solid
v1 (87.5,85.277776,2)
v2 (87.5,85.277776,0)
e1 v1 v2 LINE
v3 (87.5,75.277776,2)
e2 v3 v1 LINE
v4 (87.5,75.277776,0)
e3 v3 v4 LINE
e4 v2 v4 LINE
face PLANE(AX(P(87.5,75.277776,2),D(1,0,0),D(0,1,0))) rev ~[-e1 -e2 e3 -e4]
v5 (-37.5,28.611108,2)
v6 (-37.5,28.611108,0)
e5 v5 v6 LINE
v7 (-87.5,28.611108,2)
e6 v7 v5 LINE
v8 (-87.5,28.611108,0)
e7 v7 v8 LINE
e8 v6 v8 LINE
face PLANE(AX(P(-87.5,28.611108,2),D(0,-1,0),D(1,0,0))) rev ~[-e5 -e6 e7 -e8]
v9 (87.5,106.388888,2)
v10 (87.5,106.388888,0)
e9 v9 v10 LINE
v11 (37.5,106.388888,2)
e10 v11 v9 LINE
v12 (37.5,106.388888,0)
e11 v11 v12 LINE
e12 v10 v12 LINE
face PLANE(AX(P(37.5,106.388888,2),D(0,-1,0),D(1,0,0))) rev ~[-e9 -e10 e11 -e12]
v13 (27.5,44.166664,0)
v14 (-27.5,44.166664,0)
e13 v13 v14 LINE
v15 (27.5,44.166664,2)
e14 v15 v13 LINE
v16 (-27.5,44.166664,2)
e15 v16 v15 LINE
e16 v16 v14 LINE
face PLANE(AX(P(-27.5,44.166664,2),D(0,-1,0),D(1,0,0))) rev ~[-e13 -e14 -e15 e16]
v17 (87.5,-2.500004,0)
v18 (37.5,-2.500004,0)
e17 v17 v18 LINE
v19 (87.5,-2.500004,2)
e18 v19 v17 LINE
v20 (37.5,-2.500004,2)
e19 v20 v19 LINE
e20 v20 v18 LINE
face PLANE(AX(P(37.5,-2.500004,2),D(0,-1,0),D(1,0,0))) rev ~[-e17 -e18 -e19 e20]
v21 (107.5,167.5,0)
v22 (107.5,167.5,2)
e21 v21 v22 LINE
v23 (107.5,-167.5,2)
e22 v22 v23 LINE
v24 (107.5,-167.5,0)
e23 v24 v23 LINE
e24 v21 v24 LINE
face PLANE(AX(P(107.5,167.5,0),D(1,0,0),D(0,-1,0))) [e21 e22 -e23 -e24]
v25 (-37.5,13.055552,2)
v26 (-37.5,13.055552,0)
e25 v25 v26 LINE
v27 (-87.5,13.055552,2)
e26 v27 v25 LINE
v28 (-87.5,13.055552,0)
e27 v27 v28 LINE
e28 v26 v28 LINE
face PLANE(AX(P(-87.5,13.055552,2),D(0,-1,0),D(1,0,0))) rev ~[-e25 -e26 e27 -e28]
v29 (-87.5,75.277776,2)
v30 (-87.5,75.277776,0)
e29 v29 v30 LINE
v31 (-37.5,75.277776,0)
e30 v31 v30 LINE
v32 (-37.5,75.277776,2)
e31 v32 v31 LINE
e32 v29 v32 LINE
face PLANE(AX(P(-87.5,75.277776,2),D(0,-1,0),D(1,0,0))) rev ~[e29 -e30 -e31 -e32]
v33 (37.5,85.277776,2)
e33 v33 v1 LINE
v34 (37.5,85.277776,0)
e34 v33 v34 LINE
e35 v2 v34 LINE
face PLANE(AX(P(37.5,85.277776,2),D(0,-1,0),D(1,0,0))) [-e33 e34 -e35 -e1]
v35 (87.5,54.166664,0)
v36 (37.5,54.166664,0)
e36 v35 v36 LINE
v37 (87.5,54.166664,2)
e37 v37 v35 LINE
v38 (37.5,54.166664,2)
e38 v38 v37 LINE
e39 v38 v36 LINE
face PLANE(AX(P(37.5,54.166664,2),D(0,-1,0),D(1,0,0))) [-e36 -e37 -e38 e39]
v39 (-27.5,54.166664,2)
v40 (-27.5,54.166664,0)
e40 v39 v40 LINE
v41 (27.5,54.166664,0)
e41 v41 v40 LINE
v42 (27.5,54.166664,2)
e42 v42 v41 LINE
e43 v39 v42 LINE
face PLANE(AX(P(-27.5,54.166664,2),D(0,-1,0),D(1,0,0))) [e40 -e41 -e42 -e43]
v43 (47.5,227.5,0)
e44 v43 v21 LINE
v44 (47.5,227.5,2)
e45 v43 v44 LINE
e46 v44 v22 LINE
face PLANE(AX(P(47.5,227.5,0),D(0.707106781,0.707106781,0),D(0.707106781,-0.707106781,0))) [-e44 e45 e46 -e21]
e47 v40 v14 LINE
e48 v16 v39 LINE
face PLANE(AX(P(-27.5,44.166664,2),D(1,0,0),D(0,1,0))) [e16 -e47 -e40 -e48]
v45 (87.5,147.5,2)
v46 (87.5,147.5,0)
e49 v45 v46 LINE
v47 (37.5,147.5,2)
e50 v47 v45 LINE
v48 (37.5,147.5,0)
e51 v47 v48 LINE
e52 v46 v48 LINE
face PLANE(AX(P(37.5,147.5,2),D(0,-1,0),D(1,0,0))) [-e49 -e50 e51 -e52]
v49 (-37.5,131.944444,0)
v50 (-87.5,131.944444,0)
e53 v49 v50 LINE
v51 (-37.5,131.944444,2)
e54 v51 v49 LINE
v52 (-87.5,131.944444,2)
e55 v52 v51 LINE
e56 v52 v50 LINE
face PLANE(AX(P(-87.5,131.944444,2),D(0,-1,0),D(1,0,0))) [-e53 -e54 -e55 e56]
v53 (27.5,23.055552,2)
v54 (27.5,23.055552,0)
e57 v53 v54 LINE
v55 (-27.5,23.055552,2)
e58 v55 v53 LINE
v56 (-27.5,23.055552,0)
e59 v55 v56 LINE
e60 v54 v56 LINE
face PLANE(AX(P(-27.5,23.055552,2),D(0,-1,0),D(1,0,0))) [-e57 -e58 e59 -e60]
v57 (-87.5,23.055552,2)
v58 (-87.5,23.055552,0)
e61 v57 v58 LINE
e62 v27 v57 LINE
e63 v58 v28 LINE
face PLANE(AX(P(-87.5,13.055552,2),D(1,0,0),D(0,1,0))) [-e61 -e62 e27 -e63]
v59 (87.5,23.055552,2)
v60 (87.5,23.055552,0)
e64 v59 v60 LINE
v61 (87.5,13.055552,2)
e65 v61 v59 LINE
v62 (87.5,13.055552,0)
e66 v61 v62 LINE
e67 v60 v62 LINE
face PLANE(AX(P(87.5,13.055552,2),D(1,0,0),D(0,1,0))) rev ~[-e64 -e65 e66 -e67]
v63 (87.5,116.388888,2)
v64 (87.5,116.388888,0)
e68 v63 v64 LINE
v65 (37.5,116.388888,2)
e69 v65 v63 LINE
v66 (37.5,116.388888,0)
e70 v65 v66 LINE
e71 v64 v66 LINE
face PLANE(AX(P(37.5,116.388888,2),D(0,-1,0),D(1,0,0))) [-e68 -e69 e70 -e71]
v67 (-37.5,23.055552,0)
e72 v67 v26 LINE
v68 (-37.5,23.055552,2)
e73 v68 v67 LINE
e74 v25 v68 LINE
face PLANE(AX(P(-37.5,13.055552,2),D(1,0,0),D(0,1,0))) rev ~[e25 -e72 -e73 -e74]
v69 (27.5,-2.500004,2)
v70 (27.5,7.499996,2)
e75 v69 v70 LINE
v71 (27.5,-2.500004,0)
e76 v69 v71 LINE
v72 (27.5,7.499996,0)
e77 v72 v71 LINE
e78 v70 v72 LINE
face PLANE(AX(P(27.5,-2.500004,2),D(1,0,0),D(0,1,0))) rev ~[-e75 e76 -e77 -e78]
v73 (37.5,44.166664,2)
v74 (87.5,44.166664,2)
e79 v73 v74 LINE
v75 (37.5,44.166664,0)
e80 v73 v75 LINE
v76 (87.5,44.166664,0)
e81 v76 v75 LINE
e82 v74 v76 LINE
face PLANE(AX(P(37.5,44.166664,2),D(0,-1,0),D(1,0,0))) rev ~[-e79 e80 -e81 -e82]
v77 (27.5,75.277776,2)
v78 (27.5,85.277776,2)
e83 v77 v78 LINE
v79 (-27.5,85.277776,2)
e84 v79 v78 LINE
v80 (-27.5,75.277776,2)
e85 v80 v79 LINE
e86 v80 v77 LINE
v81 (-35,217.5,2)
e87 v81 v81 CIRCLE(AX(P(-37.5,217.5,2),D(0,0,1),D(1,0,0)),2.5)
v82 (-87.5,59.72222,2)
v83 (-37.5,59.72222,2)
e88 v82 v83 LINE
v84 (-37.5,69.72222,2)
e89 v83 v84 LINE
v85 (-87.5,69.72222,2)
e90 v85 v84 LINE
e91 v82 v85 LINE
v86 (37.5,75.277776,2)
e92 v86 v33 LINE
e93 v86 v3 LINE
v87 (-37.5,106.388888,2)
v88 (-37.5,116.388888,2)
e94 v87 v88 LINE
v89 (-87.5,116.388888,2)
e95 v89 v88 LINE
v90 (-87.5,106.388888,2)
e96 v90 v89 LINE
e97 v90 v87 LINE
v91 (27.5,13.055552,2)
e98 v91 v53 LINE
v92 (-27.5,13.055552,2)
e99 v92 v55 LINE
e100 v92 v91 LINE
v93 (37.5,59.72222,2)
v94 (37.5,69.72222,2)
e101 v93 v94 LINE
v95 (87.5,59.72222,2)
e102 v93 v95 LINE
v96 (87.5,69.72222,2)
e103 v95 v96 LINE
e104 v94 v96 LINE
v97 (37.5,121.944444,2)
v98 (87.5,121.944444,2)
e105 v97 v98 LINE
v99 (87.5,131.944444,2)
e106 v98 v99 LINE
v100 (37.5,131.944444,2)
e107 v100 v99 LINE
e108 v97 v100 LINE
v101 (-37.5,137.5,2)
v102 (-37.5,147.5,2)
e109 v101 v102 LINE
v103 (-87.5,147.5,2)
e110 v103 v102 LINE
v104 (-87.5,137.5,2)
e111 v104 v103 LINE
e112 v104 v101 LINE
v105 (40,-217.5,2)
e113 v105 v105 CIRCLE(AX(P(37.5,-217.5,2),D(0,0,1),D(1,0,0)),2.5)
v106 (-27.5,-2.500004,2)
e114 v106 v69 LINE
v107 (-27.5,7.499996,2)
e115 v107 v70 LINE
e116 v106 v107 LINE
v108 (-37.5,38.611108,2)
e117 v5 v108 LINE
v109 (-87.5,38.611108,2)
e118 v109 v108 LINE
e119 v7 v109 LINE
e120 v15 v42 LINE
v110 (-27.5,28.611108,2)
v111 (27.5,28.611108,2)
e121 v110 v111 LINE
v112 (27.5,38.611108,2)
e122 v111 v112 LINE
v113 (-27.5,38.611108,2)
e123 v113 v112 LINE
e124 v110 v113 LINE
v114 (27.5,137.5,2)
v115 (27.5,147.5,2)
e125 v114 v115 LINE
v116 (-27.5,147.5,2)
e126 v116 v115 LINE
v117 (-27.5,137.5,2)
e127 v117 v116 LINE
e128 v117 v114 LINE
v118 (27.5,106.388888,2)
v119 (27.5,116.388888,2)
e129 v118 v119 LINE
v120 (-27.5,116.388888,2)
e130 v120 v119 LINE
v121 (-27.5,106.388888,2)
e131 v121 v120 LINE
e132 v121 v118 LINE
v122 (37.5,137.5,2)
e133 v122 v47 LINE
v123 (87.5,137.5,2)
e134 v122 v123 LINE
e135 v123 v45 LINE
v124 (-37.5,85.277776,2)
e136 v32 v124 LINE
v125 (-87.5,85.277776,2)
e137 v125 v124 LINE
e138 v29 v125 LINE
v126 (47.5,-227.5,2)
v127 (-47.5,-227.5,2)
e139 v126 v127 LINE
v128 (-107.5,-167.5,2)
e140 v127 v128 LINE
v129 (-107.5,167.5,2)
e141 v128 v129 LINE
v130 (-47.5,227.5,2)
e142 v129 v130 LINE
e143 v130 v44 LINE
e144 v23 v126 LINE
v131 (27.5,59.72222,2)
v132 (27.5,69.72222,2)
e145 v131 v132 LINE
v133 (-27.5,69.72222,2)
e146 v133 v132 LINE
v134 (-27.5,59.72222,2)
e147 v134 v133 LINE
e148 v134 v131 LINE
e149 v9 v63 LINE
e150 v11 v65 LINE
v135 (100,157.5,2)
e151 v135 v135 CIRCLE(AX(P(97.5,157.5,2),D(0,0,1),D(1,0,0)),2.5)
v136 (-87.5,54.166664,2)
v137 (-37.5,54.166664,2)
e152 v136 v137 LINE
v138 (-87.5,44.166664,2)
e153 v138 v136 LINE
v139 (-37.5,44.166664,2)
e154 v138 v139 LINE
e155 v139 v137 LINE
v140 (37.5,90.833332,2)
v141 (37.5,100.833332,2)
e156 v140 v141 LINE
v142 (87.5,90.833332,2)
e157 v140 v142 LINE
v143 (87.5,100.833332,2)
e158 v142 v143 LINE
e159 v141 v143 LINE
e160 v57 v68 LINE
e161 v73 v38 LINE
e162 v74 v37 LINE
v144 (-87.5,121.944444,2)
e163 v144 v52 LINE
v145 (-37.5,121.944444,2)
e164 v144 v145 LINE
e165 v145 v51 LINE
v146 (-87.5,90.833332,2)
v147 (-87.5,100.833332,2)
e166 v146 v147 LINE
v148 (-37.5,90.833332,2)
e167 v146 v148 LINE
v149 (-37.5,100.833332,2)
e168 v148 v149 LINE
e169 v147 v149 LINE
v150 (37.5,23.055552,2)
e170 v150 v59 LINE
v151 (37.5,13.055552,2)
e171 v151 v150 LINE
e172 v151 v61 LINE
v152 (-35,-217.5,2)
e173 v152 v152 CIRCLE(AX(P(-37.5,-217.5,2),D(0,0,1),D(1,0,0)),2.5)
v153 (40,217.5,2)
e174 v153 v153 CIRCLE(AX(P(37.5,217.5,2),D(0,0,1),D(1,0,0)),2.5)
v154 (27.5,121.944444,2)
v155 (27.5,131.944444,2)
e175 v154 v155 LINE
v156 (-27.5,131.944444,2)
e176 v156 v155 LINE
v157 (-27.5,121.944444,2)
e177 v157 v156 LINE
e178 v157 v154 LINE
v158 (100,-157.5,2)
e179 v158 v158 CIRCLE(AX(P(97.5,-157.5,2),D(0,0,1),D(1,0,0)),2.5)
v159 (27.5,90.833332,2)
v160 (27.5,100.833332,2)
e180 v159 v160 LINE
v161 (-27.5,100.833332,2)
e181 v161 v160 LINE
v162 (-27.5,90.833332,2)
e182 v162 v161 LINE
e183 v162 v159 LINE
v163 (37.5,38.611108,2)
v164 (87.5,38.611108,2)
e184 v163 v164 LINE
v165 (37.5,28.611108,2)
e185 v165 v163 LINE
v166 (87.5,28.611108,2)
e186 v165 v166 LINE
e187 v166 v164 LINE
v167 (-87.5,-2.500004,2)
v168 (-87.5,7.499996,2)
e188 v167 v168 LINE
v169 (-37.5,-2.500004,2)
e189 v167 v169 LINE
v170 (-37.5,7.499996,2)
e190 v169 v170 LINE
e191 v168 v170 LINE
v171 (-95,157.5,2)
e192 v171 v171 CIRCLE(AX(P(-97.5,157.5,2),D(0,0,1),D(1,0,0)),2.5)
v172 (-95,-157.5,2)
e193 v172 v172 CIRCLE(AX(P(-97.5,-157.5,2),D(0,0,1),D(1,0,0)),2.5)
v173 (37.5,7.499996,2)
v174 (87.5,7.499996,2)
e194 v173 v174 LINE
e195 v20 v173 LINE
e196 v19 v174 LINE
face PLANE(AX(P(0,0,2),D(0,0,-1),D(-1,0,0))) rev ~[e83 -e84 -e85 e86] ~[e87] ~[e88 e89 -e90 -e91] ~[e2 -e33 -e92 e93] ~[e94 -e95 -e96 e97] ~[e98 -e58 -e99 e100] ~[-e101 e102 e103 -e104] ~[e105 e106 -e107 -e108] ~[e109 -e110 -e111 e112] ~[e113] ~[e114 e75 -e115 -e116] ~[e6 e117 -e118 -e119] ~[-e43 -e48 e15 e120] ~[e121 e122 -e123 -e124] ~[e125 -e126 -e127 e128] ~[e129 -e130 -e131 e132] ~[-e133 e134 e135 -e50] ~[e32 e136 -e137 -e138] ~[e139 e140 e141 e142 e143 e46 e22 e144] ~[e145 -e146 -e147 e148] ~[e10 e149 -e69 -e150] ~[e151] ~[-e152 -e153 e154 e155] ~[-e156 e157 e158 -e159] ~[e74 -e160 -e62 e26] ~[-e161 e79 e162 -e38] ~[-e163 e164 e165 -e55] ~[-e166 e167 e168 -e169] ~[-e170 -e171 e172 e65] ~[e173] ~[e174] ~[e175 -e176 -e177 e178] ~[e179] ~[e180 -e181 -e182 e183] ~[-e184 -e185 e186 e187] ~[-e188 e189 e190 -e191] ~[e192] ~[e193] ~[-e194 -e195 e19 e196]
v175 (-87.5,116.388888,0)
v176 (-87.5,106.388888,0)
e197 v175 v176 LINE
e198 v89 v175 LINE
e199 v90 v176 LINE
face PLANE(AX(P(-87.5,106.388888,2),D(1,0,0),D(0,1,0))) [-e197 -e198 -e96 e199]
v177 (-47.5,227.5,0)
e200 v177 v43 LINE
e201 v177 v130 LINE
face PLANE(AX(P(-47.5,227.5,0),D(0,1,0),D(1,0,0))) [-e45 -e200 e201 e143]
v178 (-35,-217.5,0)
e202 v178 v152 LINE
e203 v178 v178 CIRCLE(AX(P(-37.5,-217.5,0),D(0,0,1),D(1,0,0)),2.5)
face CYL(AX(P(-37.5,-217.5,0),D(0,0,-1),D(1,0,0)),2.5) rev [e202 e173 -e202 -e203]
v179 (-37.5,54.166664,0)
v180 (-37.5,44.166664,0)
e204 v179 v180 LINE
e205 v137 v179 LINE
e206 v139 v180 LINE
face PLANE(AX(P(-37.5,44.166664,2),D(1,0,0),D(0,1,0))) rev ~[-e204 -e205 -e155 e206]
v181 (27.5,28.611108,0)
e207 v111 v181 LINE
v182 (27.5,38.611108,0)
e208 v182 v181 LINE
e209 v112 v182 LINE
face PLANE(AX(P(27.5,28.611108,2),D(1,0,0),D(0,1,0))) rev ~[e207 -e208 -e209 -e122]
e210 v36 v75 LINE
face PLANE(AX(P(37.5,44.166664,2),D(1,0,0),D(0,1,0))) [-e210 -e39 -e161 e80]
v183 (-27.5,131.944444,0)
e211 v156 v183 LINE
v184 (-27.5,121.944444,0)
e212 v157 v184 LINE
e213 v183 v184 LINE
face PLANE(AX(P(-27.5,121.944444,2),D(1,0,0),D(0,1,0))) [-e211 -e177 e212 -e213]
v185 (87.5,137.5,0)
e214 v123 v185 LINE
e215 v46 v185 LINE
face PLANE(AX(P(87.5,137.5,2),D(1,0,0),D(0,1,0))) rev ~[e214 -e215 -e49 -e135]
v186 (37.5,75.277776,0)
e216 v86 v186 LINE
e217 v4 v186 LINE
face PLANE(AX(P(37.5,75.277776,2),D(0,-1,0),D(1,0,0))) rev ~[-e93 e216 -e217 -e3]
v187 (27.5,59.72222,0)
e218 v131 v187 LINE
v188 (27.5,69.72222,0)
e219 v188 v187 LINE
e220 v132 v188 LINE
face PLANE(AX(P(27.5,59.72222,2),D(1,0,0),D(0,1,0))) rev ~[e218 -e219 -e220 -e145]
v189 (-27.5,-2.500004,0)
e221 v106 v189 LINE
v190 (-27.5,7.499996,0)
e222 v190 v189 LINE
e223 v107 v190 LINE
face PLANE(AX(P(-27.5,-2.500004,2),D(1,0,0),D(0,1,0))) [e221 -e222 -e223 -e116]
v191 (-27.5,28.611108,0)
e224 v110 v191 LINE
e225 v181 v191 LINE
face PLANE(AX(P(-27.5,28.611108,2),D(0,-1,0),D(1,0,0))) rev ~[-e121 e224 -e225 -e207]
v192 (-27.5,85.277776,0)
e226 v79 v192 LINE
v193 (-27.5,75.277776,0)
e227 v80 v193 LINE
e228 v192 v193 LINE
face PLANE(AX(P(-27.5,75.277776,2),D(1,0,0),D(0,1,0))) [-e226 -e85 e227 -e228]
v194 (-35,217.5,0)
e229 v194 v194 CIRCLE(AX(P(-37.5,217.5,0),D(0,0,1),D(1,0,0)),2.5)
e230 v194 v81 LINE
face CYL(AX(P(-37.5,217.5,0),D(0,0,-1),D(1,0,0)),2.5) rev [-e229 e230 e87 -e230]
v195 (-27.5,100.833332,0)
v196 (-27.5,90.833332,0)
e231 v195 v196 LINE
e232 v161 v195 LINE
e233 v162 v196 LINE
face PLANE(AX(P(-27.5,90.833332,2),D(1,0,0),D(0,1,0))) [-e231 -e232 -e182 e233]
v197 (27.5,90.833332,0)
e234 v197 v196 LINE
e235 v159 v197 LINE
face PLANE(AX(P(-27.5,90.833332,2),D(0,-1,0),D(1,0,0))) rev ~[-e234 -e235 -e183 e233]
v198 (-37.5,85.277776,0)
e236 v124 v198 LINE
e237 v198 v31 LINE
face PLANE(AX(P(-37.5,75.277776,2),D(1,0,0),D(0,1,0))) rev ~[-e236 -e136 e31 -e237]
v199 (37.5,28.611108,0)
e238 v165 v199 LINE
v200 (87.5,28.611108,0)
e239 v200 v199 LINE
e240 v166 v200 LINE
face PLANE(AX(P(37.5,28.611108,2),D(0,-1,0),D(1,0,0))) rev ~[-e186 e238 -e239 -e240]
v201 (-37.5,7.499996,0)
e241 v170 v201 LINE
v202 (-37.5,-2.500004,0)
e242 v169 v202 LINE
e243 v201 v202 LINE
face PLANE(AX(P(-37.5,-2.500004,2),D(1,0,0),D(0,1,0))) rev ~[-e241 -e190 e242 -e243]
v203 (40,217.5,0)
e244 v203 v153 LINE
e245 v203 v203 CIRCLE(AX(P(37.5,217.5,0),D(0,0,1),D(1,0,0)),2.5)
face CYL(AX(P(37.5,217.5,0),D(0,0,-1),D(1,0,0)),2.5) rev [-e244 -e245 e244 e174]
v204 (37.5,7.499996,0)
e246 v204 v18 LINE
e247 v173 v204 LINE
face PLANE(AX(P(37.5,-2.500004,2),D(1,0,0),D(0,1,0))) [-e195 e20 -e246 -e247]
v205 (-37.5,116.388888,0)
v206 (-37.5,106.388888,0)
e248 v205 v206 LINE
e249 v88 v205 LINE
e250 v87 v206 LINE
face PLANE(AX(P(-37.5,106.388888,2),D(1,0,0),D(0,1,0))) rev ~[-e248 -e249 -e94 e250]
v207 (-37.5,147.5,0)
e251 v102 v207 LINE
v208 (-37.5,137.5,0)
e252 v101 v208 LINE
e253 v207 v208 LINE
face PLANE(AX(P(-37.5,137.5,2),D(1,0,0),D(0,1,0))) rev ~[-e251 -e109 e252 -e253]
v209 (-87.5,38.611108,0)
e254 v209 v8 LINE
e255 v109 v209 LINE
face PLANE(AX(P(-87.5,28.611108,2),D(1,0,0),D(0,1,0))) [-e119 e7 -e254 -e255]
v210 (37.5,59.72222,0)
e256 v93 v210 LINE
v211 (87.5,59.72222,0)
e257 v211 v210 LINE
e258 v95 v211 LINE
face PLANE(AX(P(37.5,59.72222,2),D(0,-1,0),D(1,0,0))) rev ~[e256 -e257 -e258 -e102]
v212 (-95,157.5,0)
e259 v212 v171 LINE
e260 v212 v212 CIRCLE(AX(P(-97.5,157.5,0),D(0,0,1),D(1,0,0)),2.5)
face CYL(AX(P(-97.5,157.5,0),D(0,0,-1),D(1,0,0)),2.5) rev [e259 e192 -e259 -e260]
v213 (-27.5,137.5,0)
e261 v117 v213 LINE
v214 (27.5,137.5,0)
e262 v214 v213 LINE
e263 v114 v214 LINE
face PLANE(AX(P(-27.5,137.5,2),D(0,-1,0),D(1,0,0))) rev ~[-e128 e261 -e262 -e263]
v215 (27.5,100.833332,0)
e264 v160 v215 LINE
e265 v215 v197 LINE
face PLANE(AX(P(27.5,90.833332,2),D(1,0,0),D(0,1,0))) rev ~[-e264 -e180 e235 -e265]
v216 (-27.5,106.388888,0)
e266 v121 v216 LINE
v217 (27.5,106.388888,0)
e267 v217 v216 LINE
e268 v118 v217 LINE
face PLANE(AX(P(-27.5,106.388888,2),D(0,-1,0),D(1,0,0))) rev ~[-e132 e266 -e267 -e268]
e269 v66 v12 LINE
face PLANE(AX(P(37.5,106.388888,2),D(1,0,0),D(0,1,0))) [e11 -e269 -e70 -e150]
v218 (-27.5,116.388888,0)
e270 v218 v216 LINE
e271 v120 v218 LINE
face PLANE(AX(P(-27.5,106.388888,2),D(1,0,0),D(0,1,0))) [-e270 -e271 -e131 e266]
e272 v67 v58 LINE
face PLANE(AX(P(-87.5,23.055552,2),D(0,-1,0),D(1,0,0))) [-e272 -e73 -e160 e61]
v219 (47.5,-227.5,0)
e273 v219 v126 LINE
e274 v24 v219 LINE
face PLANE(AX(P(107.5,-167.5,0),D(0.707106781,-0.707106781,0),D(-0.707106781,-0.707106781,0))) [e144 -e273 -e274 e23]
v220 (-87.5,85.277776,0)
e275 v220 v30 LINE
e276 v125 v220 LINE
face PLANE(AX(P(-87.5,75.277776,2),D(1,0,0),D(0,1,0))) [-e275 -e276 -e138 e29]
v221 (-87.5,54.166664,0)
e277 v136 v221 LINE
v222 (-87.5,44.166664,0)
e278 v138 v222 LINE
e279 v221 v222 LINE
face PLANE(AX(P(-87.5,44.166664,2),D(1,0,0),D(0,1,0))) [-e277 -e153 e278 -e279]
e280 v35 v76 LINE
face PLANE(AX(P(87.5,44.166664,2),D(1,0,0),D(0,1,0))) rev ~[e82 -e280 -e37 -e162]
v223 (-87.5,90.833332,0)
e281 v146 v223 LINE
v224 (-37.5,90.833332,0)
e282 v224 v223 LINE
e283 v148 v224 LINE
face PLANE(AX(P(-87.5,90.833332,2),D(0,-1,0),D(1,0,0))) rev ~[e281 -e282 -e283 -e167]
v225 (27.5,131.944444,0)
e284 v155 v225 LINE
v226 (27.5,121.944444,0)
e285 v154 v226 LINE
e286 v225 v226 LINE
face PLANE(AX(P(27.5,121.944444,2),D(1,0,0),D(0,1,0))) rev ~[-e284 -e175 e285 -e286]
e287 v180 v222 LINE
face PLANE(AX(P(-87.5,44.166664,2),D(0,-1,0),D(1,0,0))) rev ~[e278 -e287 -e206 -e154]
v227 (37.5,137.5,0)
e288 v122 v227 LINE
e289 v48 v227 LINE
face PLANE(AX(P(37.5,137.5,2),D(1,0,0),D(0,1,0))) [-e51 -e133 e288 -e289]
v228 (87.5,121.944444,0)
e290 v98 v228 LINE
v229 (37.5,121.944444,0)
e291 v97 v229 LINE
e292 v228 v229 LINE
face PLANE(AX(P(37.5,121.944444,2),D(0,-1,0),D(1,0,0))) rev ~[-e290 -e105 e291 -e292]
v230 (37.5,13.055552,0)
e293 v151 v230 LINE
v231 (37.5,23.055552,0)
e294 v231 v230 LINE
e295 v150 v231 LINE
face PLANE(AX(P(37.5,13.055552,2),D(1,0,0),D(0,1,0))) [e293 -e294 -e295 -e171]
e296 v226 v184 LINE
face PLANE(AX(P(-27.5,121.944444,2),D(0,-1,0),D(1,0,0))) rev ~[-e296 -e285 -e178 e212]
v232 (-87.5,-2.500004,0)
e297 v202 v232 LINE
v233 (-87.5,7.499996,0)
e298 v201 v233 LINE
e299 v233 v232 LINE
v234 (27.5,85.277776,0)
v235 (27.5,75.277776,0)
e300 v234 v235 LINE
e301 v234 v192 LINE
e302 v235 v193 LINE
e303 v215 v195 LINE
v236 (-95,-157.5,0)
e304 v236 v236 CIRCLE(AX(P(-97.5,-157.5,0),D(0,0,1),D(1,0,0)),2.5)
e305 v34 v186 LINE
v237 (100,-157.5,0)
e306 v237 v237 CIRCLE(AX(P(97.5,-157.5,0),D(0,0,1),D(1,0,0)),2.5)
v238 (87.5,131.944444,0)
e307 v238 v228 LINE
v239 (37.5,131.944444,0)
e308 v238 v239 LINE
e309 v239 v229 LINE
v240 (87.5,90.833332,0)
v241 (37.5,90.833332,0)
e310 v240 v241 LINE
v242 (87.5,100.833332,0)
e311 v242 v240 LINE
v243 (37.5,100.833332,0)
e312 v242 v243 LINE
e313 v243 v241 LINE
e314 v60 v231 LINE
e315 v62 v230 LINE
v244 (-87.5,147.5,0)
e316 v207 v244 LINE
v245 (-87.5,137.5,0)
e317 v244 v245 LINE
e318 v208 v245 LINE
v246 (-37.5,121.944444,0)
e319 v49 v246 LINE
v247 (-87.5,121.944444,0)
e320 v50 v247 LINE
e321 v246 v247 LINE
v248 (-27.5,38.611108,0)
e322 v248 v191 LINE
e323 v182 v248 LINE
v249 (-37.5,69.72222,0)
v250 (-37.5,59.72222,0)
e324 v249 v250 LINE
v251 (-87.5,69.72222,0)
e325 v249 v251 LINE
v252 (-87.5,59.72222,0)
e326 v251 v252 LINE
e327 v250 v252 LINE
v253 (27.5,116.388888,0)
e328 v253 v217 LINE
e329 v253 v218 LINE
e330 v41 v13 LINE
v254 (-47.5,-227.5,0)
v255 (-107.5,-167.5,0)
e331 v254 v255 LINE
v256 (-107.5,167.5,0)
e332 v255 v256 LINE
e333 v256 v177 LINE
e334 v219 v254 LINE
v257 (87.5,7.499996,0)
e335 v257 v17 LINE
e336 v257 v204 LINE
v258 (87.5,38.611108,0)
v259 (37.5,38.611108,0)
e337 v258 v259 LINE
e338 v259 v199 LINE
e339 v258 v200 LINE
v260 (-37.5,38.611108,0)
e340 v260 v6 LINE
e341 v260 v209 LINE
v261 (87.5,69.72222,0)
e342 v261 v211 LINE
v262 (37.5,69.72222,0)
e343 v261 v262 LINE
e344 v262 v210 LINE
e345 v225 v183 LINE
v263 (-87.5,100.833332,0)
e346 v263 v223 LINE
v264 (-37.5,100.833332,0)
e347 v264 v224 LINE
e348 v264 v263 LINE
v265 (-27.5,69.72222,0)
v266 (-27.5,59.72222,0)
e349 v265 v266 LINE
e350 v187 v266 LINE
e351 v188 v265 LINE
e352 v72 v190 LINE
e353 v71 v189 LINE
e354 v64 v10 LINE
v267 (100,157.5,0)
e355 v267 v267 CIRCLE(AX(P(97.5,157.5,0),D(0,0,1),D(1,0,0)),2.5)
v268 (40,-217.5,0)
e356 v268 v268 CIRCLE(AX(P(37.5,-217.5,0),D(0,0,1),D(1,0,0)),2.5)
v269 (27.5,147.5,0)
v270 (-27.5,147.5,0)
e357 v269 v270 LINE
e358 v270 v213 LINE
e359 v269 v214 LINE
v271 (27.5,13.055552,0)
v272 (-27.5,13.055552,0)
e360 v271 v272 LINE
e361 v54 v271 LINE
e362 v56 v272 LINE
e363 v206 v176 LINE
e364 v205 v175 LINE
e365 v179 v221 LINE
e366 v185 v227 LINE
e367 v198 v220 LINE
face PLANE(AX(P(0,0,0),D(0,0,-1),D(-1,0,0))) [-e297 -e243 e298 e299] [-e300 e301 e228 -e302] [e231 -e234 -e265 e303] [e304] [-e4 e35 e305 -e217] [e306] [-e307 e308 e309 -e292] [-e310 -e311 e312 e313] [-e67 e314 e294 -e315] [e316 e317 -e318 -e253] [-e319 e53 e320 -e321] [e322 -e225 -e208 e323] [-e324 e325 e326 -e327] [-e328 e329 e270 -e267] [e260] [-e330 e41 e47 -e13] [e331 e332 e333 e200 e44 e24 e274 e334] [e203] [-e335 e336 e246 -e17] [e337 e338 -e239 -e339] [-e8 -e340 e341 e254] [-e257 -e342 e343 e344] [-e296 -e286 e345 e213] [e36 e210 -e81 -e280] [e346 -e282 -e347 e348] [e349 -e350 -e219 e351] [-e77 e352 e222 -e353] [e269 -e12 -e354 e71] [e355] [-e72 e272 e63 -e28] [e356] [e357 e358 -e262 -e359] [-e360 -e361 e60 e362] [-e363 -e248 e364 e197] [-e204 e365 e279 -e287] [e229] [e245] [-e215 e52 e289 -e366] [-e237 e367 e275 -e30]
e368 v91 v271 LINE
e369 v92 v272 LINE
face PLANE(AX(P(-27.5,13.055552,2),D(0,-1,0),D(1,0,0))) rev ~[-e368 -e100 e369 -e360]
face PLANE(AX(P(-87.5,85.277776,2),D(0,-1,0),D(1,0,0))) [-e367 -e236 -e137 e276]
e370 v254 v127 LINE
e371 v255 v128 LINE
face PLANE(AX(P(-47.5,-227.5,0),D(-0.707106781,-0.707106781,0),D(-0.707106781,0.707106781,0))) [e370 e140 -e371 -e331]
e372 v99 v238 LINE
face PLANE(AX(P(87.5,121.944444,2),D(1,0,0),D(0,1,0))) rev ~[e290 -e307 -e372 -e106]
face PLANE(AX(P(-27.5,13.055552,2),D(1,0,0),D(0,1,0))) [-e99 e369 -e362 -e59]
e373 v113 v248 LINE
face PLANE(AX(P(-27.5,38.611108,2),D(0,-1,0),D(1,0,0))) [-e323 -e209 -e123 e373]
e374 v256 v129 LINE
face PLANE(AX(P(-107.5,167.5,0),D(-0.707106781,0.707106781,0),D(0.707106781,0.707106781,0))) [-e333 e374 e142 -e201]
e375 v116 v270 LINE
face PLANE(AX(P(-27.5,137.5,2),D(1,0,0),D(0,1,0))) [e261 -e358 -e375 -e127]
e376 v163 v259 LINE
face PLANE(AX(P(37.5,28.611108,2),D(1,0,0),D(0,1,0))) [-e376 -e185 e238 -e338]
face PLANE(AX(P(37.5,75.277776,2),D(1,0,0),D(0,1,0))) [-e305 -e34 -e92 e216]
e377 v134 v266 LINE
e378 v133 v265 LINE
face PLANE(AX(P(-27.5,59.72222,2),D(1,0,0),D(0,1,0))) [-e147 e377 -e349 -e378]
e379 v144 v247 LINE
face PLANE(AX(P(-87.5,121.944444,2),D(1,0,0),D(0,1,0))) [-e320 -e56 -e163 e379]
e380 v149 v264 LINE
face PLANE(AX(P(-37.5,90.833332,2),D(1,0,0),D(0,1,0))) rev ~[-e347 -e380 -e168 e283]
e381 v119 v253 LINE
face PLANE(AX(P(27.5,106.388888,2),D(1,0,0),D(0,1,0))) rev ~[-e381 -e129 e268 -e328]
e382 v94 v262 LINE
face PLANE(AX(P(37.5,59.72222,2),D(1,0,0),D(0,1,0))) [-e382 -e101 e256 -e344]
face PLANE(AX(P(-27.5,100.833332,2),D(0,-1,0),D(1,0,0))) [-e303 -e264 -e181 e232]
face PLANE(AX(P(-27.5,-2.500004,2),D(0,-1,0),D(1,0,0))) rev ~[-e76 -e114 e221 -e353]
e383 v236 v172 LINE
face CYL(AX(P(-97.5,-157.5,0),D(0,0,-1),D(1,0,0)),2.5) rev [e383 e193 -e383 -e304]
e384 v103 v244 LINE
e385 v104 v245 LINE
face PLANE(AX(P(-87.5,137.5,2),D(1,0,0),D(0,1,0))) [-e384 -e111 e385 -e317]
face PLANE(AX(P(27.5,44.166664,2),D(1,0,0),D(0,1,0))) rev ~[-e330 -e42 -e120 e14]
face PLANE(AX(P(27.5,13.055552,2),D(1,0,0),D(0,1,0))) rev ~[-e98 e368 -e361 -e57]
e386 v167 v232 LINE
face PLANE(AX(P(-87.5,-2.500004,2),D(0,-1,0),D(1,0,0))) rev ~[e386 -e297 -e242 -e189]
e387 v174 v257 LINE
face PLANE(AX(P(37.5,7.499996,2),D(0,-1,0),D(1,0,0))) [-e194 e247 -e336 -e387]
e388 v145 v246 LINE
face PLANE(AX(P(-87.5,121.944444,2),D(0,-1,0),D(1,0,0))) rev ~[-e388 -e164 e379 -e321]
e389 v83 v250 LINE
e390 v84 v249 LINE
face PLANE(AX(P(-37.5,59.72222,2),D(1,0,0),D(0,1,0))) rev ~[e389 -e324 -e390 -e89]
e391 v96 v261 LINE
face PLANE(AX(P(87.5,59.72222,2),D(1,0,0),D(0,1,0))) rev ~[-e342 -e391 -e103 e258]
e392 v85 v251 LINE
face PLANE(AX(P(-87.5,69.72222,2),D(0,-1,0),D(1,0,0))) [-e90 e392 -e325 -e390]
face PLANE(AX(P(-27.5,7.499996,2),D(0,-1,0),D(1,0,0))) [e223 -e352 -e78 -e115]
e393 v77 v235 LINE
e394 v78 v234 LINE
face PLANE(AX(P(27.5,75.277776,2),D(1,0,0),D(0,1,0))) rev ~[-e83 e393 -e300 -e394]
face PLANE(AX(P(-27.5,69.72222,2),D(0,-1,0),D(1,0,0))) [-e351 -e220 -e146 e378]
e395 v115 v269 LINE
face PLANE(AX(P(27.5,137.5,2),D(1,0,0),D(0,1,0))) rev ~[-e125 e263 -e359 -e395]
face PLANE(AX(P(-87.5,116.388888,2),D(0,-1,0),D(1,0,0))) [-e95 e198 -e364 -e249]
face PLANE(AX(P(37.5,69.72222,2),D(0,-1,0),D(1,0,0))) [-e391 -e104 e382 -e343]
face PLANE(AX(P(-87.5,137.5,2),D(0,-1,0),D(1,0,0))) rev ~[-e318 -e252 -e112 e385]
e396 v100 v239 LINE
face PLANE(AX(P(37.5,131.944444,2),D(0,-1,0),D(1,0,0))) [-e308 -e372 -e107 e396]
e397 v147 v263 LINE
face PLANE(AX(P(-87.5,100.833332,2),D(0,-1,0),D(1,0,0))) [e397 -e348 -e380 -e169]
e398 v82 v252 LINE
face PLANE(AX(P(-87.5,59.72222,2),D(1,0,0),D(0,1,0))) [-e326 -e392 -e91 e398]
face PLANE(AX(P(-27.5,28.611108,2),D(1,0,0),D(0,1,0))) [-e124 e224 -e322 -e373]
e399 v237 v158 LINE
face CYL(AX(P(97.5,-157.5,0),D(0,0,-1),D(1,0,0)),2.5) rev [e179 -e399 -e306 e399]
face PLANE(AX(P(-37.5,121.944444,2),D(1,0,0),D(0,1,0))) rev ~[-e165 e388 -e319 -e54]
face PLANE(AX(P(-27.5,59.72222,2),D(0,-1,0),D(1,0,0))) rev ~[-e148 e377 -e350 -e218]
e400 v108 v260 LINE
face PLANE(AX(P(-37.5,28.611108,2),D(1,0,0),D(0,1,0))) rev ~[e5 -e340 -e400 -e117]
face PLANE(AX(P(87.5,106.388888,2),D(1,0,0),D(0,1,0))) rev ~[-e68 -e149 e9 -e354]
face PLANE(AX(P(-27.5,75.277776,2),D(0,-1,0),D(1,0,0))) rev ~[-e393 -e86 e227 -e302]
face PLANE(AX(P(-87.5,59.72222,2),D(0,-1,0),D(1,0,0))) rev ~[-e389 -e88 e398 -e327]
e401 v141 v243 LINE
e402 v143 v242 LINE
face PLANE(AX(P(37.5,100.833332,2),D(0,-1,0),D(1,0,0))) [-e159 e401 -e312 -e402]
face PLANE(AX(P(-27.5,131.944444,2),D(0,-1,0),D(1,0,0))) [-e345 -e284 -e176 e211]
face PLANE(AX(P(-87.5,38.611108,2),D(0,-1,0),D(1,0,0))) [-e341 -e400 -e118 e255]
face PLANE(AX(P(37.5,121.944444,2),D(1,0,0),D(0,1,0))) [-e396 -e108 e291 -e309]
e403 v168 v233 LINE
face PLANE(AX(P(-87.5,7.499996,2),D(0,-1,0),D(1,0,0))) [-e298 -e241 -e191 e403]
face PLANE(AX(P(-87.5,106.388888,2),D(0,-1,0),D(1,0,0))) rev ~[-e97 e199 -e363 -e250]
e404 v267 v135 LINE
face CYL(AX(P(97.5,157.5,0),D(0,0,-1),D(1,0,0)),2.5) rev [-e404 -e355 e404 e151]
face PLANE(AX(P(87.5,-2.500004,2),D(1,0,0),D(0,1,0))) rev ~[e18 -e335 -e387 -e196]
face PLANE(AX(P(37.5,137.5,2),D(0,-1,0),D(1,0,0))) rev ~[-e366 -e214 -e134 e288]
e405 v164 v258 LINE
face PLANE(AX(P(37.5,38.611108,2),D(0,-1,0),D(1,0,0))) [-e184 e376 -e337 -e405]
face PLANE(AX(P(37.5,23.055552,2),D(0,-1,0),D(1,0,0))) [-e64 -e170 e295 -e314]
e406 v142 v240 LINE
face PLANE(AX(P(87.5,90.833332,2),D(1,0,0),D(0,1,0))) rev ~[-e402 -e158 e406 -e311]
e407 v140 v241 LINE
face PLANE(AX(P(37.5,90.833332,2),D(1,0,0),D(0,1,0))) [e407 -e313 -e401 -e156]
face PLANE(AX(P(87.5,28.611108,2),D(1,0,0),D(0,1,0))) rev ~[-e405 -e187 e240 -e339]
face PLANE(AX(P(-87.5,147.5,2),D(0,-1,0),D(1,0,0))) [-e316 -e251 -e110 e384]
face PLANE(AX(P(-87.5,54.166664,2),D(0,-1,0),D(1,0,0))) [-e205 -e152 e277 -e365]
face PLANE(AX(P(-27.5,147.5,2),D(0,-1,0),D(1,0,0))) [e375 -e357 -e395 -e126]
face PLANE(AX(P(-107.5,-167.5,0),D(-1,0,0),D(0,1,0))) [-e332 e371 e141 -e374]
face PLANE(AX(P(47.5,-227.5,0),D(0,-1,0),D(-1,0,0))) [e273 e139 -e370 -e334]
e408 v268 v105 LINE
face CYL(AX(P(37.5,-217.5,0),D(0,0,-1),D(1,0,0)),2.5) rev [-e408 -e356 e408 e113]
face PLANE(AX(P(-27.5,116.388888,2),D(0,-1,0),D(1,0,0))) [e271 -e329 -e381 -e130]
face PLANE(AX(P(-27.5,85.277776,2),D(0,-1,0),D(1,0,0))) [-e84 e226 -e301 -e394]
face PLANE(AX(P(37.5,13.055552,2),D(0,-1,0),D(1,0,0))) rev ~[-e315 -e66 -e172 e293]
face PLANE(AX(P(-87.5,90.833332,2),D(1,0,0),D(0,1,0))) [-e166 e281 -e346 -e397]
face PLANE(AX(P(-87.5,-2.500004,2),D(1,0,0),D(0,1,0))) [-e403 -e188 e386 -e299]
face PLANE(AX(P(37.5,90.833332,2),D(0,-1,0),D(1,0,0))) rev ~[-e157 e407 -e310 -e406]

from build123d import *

# Parameters (mm, degrees)
SKETCH_R            = 2.5
PAD_DEPTH           = 2
SKETCH001_W         = 50
SKETCH001_H         = 10
SKETCH001_W_2       = 55
POCKET_DEPTH        = 5
LINEARPATTERN_COUNT = 10
LINEARPATTERN_PITCH = 15.555556


with BuildPart() as part:
    # Sketch → Pad (new body)
    with BuildSketch(Plane.XY):
        Polygon((-47.5, 227.5), (47.5, 227.5), (107.5, 167.5), (107.5, -167.5), (47.5, -227.5), (-47.5, -227.5), (-107.5, -167.5), (-107.5, 167.5), align=None)
        with Locations((-97.5, 157.5)):
            Circle(SKETCH_R, mode=Mode.SUBTRACT)
        with Locations((-37.5, 217.5)):
            Circle(SKETCH_R, mode=Mode.SUBTRACT)
        with Locations((37.5, 217.5)):
            Circle(SKETCH_R, mode=Mode.SUBTRACT)
        with Locations((97.5, 157.5)):
            Circle(SKETCH_R, mode=Mode.SUBTRACT)
        with Locations((97.5, -157.5)):
            Circle(SKETCH_R, mode=Mode.SUBTRACT)
        with Locations((37.5, -217.5)):
            Circle(SKETCH_R, mode=Mode.SUBTRACT)
        with Locations((-37.5, -217.5)):
            Circle(SKETCH_R, mode=Mode.SUBTRACT)
        with Locations((-97.5, -157.5)):
            Circle(SKETCH_R, mode=Mode.SUBTRACT)
    extrude(amount=PAD_DEPTH)

    # Sketch001 → Pocket (cut)
    with BuildSketch(Plane.XY.offset(2)):
        with Locations((-62.5, 142.5)):
            Rectangle(SKETCH001_W, SKETCH001_H)
        with Locations((62.5, 142.5)):
            Rectangle(SKETCH001_W, SKETCH001_H)
        with Locations((0, 142.5)):
            Rectangle(SKETCH001_W_2, SKETCH001_H)
    pocket = extrude(amount=-POCKET_DEPTH, mode=Mode.SUBTRACT)

    # LinearPattern: Pocket ×10
    with Locations(*[(0, -i * LINEARPATTERN_PITCH, 0) for i in range(1, LINEARPATTERN_COUNT)]):
        add(pocket, mode=Mode.SUBTRACT)


solid = part.part
